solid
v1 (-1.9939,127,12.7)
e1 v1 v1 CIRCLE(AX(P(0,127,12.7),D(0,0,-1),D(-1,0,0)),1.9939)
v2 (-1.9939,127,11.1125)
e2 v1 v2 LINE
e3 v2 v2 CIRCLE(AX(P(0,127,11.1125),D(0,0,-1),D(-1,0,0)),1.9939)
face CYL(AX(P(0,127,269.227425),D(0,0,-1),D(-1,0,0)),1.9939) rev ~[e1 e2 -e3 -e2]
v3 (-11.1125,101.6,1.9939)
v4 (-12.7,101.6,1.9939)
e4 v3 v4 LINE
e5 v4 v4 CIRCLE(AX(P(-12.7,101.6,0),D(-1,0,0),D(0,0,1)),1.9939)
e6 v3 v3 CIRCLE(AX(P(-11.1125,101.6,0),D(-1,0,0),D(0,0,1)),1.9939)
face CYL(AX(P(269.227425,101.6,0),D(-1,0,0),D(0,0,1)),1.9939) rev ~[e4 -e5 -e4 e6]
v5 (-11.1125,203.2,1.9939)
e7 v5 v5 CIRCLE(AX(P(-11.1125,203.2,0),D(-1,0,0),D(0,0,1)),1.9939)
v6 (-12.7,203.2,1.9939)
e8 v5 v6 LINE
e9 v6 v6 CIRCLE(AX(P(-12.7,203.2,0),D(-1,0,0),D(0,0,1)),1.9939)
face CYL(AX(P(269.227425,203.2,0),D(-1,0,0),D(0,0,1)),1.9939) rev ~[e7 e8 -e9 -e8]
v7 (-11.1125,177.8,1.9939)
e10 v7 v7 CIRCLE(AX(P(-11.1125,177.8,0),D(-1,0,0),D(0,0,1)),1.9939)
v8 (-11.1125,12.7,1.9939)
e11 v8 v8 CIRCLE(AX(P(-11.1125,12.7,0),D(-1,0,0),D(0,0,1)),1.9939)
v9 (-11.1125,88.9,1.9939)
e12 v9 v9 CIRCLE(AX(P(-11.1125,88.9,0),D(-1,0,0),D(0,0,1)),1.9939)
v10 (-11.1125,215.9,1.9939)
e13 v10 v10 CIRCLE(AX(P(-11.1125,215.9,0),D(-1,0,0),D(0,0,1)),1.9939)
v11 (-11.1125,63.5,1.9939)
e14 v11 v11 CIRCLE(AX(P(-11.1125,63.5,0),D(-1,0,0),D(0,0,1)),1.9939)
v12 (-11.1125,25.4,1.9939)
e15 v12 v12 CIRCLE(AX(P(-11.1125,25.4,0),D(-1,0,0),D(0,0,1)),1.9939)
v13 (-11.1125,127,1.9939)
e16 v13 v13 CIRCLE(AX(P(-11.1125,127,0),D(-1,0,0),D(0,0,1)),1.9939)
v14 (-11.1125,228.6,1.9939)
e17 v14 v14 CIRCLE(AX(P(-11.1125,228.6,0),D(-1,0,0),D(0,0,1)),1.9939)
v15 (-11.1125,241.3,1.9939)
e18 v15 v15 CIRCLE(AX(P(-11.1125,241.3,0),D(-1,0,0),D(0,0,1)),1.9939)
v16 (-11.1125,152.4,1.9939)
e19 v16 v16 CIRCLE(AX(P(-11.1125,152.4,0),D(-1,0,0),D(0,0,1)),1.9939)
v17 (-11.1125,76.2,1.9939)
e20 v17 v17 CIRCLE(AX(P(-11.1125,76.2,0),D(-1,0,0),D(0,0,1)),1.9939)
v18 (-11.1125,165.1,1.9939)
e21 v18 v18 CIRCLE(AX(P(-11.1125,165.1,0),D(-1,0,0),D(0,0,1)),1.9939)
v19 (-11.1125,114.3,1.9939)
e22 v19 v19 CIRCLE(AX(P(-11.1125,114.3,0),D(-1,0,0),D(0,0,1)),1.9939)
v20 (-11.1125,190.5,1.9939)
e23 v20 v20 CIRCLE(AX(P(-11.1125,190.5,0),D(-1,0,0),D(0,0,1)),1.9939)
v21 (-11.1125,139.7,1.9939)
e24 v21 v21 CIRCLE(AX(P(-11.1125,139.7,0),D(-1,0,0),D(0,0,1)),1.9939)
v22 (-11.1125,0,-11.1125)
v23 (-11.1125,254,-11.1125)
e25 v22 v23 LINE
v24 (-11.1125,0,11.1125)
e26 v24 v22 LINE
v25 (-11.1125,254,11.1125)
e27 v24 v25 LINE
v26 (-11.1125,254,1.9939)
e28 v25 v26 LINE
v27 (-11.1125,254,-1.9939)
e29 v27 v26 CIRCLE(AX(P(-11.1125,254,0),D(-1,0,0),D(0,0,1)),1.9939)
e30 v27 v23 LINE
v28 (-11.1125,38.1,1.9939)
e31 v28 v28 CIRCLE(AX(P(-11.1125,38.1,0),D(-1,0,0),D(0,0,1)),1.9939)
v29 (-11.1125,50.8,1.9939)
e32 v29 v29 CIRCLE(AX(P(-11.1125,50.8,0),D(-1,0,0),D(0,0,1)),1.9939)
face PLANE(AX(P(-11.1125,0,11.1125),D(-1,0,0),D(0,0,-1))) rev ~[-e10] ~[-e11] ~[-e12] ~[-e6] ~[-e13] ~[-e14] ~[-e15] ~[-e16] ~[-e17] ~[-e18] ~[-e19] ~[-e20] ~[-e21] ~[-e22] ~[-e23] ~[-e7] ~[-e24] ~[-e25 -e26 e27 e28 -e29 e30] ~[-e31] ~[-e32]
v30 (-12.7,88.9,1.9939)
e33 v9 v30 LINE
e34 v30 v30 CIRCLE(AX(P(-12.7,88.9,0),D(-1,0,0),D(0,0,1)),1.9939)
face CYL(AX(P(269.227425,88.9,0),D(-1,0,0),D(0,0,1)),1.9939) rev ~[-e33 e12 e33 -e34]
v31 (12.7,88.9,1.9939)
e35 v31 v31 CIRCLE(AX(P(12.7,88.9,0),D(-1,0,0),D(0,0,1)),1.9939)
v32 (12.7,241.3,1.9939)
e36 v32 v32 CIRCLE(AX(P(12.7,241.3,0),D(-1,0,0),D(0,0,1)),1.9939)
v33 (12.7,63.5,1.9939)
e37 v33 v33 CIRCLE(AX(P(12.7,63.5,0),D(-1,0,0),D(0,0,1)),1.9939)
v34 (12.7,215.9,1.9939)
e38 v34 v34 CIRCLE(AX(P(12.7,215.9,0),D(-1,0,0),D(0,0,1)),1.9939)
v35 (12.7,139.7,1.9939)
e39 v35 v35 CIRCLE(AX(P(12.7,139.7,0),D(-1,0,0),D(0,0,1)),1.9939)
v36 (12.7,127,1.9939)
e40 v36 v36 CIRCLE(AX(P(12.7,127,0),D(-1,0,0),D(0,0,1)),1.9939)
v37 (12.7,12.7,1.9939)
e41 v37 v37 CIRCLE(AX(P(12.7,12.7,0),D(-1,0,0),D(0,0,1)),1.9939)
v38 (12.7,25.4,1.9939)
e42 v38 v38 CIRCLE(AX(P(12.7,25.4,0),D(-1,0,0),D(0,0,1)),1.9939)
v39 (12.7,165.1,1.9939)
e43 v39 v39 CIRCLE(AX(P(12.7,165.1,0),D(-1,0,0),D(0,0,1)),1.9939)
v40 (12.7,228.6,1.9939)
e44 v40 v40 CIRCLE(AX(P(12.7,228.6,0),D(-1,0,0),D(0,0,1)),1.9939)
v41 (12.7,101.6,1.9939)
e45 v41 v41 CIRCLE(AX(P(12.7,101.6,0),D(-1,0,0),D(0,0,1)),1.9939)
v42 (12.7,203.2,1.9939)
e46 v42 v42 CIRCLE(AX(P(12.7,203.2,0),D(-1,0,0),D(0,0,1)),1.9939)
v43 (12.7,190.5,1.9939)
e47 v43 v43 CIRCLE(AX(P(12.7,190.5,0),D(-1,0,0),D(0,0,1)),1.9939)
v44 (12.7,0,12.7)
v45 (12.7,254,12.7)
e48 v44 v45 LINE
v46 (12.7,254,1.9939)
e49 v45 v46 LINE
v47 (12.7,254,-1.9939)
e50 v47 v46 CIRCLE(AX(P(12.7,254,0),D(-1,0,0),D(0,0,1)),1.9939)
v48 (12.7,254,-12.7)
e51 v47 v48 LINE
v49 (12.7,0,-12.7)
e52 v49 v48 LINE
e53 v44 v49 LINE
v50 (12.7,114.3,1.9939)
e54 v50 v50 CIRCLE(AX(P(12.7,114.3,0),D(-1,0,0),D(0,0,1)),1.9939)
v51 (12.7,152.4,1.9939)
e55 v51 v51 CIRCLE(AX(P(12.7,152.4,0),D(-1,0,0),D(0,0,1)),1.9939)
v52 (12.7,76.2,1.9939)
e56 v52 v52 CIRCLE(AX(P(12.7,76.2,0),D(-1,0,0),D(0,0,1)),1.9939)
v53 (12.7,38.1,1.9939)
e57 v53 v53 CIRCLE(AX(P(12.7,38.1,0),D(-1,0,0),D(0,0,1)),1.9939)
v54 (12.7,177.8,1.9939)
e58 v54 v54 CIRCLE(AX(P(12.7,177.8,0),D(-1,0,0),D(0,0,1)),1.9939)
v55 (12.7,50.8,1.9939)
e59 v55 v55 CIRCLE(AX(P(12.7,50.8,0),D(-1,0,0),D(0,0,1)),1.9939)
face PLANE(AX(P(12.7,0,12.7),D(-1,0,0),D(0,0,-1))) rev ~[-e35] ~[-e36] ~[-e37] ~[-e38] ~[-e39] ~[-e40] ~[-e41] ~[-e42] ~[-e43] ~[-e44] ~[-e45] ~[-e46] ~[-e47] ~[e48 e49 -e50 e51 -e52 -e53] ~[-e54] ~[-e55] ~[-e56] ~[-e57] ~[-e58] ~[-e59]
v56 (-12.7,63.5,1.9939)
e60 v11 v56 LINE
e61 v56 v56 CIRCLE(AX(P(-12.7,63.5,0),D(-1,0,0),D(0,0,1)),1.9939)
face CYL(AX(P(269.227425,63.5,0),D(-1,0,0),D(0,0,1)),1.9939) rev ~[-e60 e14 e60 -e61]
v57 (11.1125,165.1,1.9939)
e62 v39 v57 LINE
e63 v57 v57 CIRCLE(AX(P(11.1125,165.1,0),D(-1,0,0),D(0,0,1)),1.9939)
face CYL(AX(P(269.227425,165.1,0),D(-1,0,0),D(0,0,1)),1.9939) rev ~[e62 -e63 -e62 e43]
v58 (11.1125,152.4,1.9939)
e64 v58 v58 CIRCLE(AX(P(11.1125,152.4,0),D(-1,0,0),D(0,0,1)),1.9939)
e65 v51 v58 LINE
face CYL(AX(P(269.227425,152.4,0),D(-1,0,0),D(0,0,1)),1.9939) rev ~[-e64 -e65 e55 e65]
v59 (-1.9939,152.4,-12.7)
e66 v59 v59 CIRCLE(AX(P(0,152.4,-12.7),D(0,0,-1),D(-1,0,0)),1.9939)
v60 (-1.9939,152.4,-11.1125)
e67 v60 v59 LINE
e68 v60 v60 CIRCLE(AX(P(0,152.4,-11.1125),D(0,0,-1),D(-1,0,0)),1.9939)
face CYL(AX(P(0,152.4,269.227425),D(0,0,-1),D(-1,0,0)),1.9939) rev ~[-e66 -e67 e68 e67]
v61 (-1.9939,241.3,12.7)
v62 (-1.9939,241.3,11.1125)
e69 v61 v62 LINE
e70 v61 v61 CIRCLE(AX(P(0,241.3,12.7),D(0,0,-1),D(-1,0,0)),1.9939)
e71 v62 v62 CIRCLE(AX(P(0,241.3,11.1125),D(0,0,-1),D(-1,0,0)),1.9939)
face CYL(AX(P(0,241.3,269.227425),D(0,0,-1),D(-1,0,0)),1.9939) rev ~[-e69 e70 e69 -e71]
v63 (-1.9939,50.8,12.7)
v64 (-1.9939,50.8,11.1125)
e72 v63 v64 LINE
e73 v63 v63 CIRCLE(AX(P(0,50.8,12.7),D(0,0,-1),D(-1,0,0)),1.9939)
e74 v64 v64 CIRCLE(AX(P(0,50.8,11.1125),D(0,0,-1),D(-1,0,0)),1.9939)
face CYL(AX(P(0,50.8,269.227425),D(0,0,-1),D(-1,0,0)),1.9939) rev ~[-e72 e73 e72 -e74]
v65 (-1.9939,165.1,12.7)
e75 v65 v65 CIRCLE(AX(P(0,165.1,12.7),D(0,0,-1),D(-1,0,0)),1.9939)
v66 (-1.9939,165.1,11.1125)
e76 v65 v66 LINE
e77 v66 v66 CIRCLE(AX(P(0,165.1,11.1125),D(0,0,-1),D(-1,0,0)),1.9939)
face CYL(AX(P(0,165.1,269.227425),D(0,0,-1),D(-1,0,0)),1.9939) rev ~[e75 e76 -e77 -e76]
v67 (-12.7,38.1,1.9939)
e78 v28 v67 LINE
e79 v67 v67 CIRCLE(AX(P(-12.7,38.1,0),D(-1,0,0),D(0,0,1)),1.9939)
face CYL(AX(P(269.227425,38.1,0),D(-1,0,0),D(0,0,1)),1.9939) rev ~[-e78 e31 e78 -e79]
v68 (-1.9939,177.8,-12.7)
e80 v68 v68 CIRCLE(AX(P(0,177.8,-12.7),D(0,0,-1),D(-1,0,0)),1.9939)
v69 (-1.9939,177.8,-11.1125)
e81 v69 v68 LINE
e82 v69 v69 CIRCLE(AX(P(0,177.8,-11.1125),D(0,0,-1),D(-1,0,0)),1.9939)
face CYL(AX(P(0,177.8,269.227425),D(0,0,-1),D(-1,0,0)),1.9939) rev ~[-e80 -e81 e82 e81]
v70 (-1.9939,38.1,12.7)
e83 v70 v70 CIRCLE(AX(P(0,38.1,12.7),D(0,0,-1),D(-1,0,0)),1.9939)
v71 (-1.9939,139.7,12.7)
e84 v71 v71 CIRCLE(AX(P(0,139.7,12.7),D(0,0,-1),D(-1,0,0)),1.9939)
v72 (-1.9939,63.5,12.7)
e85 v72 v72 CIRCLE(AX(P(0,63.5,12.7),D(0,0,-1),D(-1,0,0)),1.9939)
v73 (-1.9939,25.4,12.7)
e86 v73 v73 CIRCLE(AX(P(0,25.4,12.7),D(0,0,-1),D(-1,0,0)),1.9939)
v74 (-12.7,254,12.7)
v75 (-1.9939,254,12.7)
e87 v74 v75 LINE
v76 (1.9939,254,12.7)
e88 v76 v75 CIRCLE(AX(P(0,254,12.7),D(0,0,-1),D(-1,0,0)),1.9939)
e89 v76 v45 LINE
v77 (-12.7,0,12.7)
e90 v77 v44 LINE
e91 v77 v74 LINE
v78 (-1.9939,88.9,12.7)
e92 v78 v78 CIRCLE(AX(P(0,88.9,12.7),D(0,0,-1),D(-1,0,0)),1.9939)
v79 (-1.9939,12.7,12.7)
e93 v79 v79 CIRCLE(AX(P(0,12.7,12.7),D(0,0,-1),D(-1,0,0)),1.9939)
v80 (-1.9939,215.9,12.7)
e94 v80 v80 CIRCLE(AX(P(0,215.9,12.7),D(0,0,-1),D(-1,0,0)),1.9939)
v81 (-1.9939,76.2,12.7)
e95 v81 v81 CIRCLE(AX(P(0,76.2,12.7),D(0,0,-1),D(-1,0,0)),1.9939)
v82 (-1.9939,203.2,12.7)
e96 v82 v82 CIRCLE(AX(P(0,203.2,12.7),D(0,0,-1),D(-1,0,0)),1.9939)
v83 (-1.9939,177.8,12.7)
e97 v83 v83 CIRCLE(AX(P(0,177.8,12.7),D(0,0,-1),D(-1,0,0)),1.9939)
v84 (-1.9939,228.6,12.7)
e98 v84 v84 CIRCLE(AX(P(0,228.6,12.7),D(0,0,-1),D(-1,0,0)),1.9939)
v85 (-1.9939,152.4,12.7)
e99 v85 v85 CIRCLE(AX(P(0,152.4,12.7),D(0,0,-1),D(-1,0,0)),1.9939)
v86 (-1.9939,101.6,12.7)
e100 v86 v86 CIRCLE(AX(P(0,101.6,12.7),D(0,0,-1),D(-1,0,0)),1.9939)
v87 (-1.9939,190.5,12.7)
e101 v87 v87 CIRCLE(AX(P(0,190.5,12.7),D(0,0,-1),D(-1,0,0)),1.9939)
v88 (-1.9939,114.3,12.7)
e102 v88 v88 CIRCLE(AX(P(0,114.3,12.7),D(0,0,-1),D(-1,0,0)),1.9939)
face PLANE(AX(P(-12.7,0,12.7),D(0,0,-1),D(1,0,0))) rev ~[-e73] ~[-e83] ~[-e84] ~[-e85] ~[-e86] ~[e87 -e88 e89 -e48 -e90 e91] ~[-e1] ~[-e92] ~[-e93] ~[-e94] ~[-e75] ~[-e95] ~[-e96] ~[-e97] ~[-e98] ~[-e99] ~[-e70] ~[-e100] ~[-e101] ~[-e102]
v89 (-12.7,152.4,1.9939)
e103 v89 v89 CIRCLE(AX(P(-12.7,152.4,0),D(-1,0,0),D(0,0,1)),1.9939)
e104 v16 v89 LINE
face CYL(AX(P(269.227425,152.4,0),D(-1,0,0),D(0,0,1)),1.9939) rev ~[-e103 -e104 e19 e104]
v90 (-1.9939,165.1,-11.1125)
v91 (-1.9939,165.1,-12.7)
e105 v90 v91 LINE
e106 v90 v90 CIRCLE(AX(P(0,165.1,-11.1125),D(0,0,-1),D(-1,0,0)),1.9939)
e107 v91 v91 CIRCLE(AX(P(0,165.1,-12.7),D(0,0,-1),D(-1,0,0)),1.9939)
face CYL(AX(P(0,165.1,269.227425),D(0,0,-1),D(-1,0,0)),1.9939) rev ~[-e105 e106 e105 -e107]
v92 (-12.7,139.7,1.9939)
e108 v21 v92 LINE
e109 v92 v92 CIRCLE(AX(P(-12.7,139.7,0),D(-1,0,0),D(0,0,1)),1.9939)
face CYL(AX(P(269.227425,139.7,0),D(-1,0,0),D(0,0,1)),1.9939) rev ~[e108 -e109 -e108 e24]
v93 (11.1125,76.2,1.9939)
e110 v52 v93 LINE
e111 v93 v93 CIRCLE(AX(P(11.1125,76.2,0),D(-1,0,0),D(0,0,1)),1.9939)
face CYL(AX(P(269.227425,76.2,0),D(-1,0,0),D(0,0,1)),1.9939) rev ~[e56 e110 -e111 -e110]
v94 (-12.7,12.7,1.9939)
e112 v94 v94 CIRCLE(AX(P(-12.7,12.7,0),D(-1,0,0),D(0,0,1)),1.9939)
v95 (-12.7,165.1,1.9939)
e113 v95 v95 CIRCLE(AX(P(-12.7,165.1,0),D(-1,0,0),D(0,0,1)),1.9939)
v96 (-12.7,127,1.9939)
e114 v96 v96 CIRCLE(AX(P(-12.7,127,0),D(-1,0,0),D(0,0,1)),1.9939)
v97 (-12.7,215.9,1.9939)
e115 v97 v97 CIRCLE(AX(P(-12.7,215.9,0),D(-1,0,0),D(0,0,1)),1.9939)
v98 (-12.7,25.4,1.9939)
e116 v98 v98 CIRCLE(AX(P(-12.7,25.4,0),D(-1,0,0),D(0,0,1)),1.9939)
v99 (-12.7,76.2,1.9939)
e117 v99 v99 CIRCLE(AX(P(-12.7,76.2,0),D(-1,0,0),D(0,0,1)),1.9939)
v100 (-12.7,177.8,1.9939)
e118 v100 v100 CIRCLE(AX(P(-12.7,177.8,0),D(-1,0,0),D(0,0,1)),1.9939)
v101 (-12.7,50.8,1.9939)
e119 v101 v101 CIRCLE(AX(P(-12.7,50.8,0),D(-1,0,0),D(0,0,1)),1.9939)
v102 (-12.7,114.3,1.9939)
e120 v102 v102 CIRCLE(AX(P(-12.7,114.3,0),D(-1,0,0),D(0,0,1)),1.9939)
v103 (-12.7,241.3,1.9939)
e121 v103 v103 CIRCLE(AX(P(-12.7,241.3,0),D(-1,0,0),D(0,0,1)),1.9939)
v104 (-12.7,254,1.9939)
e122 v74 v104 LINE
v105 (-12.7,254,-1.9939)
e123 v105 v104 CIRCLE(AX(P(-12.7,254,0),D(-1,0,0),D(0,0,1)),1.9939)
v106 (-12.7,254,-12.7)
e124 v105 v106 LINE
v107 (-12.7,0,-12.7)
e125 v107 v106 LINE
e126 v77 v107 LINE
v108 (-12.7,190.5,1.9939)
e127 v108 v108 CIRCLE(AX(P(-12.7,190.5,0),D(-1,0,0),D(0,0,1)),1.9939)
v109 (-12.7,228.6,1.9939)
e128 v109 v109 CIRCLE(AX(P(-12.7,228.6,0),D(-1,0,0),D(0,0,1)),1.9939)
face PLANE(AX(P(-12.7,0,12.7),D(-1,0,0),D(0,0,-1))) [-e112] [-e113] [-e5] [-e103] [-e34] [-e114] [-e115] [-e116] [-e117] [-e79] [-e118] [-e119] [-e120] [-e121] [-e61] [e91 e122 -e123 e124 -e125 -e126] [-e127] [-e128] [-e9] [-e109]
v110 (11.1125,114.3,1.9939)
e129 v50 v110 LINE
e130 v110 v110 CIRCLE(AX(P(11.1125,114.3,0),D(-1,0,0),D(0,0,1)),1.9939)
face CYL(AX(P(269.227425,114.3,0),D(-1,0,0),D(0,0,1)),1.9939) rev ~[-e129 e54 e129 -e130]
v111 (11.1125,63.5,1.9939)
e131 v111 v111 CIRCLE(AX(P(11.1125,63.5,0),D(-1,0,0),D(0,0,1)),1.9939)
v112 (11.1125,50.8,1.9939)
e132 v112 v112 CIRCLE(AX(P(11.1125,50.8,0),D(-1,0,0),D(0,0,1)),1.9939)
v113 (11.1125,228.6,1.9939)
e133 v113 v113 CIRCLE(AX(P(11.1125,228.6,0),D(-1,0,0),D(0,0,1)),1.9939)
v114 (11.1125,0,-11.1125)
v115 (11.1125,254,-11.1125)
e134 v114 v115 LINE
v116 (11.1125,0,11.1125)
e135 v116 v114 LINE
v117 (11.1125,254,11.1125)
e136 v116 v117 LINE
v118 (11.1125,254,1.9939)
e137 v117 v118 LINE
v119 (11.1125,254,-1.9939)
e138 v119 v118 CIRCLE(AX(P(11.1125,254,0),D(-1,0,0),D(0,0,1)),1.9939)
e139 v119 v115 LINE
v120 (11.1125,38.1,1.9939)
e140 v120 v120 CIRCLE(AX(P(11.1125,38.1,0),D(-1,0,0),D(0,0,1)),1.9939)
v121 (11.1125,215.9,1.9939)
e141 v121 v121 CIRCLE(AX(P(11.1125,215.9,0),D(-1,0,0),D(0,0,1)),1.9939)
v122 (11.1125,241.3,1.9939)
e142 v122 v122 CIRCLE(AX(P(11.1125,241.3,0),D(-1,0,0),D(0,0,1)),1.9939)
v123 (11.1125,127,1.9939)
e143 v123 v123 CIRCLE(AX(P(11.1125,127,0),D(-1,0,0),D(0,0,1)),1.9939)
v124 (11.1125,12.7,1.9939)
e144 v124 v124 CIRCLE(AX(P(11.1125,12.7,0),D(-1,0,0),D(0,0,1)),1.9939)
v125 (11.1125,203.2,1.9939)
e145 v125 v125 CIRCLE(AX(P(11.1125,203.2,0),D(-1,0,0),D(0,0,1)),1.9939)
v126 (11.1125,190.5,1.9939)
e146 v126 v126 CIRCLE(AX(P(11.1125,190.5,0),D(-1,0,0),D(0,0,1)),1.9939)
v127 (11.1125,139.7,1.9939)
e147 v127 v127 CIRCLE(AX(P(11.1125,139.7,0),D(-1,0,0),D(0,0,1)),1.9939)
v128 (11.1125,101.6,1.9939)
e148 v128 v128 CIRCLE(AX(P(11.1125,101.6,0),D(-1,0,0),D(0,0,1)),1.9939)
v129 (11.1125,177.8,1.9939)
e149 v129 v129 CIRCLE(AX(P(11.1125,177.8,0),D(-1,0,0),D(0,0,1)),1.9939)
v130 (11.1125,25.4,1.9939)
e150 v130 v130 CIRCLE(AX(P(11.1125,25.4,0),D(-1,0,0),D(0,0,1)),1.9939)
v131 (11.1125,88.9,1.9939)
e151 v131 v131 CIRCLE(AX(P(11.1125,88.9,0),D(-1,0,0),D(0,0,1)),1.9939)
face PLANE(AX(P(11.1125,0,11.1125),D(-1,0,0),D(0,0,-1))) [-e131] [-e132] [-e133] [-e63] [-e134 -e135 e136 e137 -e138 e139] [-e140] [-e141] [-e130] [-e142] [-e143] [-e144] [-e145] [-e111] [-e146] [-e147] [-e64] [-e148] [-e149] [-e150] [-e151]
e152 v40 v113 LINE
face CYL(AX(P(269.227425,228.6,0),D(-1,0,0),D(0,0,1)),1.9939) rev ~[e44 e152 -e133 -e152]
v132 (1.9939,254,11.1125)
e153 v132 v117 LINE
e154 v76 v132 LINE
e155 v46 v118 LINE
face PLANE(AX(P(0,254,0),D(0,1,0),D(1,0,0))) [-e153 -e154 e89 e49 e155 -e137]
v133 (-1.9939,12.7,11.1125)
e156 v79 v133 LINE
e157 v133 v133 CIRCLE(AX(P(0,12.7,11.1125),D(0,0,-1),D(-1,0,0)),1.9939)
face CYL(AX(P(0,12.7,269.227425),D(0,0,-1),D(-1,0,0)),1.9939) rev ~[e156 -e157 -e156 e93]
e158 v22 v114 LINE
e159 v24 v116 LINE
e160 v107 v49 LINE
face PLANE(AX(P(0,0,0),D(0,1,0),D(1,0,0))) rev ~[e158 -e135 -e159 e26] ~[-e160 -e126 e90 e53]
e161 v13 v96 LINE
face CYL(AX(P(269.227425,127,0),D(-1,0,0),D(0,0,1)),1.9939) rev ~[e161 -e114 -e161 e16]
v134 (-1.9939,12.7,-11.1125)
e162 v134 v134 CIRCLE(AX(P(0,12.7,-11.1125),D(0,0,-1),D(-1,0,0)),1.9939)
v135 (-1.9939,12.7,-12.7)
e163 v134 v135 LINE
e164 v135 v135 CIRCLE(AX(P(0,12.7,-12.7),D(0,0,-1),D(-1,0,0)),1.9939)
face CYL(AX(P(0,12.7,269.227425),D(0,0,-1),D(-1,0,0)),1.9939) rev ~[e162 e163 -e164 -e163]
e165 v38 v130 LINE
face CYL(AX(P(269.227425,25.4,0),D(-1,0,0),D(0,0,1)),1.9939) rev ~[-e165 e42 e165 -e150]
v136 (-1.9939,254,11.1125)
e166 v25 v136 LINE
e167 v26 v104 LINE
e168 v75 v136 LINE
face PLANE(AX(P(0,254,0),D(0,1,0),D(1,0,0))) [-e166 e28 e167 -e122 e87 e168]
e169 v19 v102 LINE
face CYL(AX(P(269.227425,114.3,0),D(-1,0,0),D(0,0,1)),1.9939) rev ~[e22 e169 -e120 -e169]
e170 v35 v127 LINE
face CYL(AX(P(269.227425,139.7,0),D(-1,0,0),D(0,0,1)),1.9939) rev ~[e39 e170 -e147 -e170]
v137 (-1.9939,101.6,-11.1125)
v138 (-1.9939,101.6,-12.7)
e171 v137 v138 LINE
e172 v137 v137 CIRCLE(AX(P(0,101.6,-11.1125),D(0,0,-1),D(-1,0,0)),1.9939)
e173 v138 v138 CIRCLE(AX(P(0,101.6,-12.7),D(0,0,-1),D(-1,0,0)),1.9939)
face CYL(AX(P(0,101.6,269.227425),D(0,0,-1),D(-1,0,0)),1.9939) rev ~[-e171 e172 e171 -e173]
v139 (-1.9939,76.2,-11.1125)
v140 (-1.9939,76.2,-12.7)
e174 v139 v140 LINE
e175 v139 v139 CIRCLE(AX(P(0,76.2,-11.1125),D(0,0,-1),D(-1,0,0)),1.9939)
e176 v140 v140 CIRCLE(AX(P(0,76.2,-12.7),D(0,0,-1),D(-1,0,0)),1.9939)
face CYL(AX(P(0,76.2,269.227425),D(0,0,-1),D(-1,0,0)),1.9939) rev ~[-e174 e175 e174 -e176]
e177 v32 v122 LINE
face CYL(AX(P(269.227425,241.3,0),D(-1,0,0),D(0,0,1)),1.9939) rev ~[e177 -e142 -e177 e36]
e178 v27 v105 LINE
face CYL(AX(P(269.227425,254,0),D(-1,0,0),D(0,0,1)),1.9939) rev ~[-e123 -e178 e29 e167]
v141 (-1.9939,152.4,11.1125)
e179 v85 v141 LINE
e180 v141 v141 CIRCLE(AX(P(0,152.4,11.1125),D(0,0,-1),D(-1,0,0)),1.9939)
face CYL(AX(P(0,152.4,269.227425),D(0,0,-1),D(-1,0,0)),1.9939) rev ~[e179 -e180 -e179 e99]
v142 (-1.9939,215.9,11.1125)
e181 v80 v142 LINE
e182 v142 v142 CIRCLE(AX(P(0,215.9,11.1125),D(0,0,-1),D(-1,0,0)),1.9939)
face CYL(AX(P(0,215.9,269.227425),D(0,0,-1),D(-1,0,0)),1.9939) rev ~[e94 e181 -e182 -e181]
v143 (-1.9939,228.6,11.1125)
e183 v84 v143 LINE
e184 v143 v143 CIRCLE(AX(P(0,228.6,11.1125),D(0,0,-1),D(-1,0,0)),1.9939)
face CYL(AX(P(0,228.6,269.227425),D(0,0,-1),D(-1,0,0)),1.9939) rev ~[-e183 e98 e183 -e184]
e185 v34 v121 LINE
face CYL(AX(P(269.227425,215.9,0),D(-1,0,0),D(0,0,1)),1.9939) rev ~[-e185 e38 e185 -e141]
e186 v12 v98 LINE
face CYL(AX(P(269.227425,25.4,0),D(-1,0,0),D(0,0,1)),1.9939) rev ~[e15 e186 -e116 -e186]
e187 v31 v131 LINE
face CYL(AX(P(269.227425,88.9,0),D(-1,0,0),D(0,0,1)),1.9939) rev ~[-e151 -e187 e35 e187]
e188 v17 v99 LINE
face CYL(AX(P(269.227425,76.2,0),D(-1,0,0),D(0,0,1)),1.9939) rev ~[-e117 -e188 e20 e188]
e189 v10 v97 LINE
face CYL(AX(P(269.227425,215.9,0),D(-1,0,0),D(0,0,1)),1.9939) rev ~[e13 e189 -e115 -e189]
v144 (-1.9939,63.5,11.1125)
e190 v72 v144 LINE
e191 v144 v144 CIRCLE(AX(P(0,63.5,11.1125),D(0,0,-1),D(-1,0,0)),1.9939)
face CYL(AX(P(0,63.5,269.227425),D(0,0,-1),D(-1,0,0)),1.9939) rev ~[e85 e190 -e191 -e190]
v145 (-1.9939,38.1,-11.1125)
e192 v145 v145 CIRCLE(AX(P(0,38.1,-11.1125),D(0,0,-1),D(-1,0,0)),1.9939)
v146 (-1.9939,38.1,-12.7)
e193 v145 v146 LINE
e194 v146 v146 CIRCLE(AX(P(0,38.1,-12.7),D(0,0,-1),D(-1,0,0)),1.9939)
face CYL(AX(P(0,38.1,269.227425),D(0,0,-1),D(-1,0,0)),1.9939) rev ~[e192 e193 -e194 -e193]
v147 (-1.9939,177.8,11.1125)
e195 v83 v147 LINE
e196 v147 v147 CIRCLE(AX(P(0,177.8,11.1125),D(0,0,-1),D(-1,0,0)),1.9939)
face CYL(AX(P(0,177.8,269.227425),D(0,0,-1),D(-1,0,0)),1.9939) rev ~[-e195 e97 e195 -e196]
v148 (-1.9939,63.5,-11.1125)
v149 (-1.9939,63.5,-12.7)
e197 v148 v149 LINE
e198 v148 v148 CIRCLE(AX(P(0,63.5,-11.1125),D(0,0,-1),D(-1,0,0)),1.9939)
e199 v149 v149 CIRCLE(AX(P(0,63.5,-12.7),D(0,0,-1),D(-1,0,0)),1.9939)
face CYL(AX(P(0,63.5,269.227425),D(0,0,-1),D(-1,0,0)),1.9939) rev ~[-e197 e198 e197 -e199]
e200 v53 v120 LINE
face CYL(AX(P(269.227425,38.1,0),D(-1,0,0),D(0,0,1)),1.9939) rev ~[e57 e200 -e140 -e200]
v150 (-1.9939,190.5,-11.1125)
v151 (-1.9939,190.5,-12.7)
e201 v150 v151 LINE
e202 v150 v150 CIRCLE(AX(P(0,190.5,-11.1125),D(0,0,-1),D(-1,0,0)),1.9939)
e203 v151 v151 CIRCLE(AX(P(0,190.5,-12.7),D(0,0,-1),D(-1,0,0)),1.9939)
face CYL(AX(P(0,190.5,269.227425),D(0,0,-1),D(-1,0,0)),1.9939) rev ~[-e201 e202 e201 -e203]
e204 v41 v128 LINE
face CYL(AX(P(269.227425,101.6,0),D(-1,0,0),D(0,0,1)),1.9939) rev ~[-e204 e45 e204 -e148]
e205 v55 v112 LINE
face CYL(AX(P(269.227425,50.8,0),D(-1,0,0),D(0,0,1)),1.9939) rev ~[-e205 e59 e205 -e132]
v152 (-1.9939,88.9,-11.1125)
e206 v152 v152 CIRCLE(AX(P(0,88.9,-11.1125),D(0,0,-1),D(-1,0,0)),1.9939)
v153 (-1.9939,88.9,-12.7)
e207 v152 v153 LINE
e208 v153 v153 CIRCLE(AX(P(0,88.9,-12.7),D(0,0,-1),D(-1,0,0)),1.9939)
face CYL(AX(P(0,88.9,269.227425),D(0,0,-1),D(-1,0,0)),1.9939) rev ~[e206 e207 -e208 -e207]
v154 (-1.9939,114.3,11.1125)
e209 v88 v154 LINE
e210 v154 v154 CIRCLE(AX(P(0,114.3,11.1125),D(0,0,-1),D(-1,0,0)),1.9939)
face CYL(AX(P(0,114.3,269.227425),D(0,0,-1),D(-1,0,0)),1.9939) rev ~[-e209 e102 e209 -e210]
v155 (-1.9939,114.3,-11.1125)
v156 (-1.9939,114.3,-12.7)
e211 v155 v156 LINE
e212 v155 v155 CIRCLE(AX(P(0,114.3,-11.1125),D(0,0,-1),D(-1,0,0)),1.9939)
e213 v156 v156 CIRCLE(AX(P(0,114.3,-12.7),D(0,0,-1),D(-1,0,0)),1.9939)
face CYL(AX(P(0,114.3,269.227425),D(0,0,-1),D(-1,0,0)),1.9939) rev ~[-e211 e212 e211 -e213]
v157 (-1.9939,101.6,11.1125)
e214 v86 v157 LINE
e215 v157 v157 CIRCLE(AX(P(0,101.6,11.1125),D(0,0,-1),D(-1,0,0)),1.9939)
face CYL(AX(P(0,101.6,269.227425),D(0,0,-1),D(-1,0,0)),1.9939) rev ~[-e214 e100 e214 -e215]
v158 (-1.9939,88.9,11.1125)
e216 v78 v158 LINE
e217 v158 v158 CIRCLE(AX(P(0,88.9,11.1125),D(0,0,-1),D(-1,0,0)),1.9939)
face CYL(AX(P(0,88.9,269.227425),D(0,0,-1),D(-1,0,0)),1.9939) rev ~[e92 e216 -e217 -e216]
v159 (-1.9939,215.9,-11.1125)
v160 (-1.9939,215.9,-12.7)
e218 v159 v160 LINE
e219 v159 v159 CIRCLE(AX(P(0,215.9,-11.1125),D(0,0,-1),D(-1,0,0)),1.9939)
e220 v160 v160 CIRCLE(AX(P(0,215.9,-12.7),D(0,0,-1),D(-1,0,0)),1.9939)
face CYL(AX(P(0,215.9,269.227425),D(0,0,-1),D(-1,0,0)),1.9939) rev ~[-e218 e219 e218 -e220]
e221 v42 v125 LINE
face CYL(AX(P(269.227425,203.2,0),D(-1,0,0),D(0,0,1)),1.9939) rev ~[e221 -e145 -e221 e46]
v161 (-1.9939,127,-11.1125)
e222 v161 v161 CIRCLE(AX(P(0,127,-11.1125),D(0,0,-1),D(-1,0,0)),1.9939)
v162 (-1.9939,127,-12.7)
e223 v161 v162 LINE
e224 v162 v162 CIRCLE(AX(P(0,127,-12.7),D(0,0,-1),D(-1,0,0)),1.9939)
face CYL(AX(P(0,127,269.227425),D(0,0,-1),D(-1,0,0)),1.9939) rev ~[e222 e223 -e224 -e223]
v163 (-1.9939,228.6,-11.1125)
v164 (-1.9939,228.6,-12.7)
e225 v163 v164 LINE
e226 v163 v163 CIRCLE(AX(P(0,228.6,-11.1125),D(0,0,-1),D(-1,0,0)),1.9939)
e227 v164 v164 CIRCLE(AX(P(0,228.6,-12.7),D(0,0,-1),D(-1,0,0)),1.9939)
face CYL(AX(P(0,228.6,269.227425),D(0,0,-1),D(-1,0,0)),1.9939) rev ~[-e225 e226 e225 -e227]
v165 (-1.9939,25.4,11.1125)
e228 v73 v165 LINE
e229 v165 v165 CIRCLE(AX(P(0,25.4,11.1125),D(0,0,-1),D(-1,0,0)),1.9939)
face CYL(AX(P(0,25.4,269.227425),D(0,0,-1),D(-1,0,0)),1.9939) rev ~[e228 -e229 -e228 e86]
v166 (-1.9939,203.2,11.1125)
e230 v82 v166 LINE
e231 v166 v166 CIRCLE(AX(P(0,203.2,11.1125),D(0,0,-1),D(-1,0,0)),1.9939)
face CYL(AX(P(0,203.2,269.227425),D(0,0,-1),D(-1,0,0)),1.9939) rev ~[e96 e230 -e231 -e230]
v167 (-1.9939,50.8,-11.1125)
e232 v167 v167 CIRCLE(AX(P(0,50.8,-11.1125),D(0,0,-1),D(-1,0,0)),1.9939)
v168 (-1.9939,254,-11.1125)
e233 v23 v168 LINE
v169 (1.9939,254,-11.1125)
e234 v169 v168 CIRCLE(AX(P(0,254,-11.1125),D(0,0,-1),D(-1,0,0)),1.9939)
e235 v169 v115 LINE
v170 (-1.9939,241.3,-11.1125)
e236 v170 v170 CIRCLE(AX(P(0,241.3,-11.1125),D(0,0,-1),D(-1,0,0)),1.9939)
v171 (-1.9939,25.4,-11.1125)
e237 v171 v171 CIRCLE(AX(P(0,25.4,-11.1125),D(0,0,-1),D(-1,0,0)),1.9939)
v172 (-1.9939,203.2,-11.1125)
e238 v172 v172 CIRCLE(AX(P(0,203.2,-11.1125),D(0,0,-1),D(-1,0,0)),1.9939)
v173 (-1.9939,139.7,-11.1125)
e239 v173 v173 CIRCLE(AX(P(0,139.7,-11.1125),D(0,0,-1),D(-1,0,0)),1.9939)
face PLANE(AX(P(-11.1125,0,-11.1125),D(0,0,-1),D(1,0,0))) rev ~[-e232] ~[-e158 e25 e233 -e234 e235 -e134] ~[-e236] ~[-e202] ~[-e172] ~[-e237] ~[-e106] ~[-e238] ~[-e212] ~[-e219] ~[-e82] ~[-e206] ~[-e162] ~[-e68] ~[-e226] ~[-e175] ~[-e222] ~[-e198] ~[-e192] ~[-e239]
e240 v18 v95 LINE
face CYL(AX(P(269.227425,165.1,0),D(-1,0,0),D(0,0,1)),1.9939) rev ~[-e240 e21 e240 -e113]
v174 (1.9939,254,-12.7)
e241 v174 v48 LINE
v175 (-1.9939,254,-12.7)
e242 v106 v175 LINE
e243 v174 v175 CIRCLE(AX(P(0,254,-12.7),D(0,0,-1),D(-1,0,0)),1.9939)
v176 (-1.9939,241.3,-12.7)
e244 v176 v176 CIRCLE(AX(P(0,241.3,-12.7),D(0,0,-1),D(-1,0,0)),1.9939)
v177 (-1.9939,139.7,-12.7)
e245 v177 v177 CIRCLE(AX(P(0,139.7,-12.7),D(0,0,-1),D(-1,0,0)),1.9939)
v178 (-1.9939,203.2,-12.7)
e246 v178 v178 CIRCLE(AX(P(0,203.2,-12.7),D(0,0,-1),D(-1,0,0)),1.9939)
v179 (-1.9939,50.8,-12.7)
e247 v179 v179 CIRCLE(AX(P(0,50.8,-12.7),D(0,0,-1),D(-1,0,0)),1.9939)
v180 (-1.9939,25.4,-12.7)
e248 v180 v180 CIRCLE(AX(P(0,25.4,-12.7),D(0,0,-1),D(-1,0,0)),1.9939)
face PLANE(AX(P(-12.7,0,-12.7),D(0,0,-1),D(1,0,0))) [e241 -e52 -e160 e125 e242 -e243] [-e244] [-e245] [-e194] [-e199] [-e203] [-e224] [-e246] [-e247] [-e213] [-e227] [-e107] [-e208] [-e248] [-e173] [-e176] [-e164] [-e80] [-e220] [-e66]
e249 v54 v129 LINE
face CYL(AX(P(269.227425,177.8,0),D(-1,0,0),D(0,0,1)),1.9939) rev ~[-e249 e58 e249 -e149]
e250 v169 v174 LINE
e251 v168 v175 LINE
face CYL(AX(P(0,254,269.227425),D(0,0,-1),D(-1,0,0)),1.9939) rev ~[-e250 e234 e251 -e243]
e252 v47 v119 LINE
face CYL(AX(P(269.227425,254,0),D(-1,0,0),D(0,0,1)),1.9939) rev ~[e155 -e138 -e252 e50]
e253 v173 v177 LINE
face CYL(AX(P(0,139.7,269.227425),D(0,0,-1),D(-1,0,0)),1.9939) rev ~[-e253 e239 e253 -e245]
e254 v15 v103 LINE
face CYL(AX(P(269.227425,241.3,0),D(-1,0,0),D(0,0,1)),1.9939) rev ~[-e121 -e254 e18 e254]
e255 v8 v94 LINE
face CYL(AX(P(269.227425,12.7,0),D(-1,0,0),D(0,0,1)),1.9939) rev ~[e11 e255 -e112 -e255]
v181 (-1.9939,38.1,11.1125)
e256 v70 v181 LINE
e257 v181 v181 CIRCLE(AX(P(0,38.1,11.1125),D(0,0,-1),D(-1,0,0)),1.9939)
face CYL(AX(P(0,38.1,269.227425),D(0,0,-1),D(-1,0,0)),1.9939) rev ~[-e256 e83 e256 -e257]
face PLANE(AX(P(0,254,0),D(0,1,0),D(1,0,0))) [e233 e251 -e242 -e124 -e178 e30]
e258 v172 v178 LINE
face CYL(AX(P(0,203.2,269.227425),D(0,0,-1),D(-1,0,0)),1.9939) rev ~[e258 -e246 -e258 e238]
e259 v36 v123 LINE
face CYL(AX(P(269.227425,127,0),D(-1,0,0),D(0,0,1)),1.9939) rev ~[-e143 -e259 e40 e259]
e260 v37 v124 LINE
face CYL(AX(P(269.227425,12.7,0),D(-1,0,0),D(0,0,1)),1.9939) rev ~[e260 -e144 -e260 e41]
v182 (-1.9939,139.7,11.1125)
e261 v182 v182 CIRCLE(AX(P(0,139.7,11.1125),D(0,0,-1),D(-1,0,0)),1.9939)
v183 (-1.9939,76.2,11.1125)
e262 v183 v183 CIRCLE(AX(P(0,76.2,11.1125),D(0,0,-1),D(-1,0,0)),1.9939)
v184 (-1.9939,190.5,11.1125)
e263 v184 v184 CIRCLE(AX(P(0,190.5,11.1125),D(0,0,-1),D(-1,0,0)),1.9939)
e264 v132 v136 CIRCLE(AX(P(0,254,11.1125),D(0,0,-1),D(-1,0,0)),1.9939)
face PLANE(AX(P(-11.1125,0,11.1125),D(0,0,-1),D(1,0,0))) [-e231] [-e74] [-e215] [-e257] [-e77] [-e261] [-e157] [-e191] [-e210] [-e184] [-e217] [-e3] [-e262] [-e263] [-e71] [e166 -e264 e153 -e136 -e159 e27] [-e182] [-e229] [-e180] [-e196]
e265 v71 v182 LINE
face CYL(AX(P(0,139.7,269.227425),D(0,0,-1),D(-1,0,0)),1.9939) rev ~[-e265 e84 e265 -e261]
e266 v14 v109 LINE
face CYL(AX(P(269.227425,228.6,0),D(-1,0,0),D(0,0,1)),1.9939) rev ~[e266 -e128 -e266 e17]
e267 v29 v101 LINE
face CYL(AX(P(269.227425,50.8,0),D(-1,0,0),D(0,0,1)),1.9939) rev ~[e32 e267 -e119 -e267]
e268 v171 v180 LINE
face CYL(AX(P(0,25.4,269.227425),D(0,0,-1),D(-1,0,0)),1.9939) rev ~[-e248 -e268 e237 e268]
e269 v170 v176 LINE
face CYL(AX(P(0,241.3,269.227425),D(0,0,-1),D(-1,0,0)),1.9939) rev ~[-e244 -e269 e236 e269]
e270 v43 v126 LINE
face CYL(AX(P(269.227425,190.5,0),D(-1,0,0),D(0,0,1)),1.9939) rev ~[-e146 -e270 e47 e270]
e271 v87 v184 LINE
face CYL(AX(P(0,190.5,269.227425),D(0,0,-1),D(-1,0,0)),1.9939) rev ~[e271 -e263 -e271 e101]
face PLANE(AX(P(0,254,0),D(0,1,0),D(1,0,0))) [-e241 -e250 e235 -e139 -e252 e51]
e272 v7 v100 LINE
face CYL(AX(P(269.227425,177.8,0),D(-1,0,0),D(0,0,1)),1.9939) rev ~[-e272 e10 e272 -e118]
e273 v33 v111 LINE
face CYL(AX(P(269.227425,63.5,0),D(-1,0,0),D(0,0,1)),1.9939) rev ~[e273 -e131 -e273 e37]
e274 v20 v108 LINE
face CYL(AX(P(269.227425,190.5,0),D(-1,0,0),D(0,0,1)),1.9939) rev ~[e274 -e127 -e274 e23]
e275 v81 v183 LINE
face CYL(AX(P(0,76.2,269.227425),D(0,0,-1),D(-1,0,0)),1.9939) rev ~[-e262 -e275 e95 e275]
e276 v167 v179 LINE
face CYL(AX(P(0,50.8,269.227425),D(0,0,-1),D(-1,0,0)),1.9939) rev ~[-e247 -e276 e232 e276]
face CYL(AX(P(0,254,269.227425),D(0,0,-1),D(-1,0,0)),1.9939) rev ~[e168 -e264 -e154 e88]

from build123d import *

# Parameters (mm, degrees)
SKETCH1_W                   = 25.4
SKETCH1_H                   = 25.4
SKETCH1_W_2                 = 22.225
SKETCH1_H_2                 = 22.225
BOSS_EXTRUDE1_DEPTH         = 254
F_22_0_157_DIAMETER_HOLE1_D = 3.9878
LPATTERN1_COUNT             = 20
LPATTERN1_PITCH             = 12.7
F_22_0_157_DIAMETER_HOLE2_D = 3.9878
LPATTERN2_COUNT             = 20
LPATTERN2_PITCH             = 12.7


with BuildPart() as part:
    # Sketch1 → Boss-Extrude1 (new body)
    with BuildSketch(Plane(origin=(0, 0, 0), x_dir=(1, 0, 0), z_dir=(0, 1, 0))):
        Rectangle(SKETCH1_W, SKETCH1_H)
        Rectangle(SKETCH1_W_2, SKETCH1_H_2, mode=Mode.SUBTRACT)
    extrude(amount=BOSS_EXTRUDE1_DEPTH)

    # #22 (0.157) Diameter Hole1 (through all)
    with Locations(Plane.XY.offset(12.7)):
        with Locations((0, 12.7)):
            f_22_0_157_diameter_hole1 = Hole(F_22_0_157_DIAMETER_HOLE1_D / 2)

    # LPattern1: #22 (0.157) Diameter Hole1 ×20
    with Locations(*[(0, i * LPATTERN1_PITCH, 0) for i in range(1, LPATTERN1_COUNT)]):
        add(f_22_0_157_diameter_hole1, mode=Mode.SUBTRACT)

    # #22 (0.157) Diameter Hole2 (through all)
    with Locations(Plane(origin=(12.7, 0, 0), x_dir=(0, 0, -1), z_dir=(1, 0, 0))):
        with Locations((0, 12.7)):
            f_22_0_157_diameter_hole2 = Hole(F_22_0_157_DIAMETER_HOLE2_D / 2)

    # LPattern2: #22 (0.157) Diameter Hole2 ×20
    with Locations(*[(0, i * LPATTERN2_PITCH, 0) for i in range(1, LPATTERN2_COUNT)]):
        add(f_22_0_157_diameter_hole2, mode=Mode.SUBTRACT)


solid = part.part
